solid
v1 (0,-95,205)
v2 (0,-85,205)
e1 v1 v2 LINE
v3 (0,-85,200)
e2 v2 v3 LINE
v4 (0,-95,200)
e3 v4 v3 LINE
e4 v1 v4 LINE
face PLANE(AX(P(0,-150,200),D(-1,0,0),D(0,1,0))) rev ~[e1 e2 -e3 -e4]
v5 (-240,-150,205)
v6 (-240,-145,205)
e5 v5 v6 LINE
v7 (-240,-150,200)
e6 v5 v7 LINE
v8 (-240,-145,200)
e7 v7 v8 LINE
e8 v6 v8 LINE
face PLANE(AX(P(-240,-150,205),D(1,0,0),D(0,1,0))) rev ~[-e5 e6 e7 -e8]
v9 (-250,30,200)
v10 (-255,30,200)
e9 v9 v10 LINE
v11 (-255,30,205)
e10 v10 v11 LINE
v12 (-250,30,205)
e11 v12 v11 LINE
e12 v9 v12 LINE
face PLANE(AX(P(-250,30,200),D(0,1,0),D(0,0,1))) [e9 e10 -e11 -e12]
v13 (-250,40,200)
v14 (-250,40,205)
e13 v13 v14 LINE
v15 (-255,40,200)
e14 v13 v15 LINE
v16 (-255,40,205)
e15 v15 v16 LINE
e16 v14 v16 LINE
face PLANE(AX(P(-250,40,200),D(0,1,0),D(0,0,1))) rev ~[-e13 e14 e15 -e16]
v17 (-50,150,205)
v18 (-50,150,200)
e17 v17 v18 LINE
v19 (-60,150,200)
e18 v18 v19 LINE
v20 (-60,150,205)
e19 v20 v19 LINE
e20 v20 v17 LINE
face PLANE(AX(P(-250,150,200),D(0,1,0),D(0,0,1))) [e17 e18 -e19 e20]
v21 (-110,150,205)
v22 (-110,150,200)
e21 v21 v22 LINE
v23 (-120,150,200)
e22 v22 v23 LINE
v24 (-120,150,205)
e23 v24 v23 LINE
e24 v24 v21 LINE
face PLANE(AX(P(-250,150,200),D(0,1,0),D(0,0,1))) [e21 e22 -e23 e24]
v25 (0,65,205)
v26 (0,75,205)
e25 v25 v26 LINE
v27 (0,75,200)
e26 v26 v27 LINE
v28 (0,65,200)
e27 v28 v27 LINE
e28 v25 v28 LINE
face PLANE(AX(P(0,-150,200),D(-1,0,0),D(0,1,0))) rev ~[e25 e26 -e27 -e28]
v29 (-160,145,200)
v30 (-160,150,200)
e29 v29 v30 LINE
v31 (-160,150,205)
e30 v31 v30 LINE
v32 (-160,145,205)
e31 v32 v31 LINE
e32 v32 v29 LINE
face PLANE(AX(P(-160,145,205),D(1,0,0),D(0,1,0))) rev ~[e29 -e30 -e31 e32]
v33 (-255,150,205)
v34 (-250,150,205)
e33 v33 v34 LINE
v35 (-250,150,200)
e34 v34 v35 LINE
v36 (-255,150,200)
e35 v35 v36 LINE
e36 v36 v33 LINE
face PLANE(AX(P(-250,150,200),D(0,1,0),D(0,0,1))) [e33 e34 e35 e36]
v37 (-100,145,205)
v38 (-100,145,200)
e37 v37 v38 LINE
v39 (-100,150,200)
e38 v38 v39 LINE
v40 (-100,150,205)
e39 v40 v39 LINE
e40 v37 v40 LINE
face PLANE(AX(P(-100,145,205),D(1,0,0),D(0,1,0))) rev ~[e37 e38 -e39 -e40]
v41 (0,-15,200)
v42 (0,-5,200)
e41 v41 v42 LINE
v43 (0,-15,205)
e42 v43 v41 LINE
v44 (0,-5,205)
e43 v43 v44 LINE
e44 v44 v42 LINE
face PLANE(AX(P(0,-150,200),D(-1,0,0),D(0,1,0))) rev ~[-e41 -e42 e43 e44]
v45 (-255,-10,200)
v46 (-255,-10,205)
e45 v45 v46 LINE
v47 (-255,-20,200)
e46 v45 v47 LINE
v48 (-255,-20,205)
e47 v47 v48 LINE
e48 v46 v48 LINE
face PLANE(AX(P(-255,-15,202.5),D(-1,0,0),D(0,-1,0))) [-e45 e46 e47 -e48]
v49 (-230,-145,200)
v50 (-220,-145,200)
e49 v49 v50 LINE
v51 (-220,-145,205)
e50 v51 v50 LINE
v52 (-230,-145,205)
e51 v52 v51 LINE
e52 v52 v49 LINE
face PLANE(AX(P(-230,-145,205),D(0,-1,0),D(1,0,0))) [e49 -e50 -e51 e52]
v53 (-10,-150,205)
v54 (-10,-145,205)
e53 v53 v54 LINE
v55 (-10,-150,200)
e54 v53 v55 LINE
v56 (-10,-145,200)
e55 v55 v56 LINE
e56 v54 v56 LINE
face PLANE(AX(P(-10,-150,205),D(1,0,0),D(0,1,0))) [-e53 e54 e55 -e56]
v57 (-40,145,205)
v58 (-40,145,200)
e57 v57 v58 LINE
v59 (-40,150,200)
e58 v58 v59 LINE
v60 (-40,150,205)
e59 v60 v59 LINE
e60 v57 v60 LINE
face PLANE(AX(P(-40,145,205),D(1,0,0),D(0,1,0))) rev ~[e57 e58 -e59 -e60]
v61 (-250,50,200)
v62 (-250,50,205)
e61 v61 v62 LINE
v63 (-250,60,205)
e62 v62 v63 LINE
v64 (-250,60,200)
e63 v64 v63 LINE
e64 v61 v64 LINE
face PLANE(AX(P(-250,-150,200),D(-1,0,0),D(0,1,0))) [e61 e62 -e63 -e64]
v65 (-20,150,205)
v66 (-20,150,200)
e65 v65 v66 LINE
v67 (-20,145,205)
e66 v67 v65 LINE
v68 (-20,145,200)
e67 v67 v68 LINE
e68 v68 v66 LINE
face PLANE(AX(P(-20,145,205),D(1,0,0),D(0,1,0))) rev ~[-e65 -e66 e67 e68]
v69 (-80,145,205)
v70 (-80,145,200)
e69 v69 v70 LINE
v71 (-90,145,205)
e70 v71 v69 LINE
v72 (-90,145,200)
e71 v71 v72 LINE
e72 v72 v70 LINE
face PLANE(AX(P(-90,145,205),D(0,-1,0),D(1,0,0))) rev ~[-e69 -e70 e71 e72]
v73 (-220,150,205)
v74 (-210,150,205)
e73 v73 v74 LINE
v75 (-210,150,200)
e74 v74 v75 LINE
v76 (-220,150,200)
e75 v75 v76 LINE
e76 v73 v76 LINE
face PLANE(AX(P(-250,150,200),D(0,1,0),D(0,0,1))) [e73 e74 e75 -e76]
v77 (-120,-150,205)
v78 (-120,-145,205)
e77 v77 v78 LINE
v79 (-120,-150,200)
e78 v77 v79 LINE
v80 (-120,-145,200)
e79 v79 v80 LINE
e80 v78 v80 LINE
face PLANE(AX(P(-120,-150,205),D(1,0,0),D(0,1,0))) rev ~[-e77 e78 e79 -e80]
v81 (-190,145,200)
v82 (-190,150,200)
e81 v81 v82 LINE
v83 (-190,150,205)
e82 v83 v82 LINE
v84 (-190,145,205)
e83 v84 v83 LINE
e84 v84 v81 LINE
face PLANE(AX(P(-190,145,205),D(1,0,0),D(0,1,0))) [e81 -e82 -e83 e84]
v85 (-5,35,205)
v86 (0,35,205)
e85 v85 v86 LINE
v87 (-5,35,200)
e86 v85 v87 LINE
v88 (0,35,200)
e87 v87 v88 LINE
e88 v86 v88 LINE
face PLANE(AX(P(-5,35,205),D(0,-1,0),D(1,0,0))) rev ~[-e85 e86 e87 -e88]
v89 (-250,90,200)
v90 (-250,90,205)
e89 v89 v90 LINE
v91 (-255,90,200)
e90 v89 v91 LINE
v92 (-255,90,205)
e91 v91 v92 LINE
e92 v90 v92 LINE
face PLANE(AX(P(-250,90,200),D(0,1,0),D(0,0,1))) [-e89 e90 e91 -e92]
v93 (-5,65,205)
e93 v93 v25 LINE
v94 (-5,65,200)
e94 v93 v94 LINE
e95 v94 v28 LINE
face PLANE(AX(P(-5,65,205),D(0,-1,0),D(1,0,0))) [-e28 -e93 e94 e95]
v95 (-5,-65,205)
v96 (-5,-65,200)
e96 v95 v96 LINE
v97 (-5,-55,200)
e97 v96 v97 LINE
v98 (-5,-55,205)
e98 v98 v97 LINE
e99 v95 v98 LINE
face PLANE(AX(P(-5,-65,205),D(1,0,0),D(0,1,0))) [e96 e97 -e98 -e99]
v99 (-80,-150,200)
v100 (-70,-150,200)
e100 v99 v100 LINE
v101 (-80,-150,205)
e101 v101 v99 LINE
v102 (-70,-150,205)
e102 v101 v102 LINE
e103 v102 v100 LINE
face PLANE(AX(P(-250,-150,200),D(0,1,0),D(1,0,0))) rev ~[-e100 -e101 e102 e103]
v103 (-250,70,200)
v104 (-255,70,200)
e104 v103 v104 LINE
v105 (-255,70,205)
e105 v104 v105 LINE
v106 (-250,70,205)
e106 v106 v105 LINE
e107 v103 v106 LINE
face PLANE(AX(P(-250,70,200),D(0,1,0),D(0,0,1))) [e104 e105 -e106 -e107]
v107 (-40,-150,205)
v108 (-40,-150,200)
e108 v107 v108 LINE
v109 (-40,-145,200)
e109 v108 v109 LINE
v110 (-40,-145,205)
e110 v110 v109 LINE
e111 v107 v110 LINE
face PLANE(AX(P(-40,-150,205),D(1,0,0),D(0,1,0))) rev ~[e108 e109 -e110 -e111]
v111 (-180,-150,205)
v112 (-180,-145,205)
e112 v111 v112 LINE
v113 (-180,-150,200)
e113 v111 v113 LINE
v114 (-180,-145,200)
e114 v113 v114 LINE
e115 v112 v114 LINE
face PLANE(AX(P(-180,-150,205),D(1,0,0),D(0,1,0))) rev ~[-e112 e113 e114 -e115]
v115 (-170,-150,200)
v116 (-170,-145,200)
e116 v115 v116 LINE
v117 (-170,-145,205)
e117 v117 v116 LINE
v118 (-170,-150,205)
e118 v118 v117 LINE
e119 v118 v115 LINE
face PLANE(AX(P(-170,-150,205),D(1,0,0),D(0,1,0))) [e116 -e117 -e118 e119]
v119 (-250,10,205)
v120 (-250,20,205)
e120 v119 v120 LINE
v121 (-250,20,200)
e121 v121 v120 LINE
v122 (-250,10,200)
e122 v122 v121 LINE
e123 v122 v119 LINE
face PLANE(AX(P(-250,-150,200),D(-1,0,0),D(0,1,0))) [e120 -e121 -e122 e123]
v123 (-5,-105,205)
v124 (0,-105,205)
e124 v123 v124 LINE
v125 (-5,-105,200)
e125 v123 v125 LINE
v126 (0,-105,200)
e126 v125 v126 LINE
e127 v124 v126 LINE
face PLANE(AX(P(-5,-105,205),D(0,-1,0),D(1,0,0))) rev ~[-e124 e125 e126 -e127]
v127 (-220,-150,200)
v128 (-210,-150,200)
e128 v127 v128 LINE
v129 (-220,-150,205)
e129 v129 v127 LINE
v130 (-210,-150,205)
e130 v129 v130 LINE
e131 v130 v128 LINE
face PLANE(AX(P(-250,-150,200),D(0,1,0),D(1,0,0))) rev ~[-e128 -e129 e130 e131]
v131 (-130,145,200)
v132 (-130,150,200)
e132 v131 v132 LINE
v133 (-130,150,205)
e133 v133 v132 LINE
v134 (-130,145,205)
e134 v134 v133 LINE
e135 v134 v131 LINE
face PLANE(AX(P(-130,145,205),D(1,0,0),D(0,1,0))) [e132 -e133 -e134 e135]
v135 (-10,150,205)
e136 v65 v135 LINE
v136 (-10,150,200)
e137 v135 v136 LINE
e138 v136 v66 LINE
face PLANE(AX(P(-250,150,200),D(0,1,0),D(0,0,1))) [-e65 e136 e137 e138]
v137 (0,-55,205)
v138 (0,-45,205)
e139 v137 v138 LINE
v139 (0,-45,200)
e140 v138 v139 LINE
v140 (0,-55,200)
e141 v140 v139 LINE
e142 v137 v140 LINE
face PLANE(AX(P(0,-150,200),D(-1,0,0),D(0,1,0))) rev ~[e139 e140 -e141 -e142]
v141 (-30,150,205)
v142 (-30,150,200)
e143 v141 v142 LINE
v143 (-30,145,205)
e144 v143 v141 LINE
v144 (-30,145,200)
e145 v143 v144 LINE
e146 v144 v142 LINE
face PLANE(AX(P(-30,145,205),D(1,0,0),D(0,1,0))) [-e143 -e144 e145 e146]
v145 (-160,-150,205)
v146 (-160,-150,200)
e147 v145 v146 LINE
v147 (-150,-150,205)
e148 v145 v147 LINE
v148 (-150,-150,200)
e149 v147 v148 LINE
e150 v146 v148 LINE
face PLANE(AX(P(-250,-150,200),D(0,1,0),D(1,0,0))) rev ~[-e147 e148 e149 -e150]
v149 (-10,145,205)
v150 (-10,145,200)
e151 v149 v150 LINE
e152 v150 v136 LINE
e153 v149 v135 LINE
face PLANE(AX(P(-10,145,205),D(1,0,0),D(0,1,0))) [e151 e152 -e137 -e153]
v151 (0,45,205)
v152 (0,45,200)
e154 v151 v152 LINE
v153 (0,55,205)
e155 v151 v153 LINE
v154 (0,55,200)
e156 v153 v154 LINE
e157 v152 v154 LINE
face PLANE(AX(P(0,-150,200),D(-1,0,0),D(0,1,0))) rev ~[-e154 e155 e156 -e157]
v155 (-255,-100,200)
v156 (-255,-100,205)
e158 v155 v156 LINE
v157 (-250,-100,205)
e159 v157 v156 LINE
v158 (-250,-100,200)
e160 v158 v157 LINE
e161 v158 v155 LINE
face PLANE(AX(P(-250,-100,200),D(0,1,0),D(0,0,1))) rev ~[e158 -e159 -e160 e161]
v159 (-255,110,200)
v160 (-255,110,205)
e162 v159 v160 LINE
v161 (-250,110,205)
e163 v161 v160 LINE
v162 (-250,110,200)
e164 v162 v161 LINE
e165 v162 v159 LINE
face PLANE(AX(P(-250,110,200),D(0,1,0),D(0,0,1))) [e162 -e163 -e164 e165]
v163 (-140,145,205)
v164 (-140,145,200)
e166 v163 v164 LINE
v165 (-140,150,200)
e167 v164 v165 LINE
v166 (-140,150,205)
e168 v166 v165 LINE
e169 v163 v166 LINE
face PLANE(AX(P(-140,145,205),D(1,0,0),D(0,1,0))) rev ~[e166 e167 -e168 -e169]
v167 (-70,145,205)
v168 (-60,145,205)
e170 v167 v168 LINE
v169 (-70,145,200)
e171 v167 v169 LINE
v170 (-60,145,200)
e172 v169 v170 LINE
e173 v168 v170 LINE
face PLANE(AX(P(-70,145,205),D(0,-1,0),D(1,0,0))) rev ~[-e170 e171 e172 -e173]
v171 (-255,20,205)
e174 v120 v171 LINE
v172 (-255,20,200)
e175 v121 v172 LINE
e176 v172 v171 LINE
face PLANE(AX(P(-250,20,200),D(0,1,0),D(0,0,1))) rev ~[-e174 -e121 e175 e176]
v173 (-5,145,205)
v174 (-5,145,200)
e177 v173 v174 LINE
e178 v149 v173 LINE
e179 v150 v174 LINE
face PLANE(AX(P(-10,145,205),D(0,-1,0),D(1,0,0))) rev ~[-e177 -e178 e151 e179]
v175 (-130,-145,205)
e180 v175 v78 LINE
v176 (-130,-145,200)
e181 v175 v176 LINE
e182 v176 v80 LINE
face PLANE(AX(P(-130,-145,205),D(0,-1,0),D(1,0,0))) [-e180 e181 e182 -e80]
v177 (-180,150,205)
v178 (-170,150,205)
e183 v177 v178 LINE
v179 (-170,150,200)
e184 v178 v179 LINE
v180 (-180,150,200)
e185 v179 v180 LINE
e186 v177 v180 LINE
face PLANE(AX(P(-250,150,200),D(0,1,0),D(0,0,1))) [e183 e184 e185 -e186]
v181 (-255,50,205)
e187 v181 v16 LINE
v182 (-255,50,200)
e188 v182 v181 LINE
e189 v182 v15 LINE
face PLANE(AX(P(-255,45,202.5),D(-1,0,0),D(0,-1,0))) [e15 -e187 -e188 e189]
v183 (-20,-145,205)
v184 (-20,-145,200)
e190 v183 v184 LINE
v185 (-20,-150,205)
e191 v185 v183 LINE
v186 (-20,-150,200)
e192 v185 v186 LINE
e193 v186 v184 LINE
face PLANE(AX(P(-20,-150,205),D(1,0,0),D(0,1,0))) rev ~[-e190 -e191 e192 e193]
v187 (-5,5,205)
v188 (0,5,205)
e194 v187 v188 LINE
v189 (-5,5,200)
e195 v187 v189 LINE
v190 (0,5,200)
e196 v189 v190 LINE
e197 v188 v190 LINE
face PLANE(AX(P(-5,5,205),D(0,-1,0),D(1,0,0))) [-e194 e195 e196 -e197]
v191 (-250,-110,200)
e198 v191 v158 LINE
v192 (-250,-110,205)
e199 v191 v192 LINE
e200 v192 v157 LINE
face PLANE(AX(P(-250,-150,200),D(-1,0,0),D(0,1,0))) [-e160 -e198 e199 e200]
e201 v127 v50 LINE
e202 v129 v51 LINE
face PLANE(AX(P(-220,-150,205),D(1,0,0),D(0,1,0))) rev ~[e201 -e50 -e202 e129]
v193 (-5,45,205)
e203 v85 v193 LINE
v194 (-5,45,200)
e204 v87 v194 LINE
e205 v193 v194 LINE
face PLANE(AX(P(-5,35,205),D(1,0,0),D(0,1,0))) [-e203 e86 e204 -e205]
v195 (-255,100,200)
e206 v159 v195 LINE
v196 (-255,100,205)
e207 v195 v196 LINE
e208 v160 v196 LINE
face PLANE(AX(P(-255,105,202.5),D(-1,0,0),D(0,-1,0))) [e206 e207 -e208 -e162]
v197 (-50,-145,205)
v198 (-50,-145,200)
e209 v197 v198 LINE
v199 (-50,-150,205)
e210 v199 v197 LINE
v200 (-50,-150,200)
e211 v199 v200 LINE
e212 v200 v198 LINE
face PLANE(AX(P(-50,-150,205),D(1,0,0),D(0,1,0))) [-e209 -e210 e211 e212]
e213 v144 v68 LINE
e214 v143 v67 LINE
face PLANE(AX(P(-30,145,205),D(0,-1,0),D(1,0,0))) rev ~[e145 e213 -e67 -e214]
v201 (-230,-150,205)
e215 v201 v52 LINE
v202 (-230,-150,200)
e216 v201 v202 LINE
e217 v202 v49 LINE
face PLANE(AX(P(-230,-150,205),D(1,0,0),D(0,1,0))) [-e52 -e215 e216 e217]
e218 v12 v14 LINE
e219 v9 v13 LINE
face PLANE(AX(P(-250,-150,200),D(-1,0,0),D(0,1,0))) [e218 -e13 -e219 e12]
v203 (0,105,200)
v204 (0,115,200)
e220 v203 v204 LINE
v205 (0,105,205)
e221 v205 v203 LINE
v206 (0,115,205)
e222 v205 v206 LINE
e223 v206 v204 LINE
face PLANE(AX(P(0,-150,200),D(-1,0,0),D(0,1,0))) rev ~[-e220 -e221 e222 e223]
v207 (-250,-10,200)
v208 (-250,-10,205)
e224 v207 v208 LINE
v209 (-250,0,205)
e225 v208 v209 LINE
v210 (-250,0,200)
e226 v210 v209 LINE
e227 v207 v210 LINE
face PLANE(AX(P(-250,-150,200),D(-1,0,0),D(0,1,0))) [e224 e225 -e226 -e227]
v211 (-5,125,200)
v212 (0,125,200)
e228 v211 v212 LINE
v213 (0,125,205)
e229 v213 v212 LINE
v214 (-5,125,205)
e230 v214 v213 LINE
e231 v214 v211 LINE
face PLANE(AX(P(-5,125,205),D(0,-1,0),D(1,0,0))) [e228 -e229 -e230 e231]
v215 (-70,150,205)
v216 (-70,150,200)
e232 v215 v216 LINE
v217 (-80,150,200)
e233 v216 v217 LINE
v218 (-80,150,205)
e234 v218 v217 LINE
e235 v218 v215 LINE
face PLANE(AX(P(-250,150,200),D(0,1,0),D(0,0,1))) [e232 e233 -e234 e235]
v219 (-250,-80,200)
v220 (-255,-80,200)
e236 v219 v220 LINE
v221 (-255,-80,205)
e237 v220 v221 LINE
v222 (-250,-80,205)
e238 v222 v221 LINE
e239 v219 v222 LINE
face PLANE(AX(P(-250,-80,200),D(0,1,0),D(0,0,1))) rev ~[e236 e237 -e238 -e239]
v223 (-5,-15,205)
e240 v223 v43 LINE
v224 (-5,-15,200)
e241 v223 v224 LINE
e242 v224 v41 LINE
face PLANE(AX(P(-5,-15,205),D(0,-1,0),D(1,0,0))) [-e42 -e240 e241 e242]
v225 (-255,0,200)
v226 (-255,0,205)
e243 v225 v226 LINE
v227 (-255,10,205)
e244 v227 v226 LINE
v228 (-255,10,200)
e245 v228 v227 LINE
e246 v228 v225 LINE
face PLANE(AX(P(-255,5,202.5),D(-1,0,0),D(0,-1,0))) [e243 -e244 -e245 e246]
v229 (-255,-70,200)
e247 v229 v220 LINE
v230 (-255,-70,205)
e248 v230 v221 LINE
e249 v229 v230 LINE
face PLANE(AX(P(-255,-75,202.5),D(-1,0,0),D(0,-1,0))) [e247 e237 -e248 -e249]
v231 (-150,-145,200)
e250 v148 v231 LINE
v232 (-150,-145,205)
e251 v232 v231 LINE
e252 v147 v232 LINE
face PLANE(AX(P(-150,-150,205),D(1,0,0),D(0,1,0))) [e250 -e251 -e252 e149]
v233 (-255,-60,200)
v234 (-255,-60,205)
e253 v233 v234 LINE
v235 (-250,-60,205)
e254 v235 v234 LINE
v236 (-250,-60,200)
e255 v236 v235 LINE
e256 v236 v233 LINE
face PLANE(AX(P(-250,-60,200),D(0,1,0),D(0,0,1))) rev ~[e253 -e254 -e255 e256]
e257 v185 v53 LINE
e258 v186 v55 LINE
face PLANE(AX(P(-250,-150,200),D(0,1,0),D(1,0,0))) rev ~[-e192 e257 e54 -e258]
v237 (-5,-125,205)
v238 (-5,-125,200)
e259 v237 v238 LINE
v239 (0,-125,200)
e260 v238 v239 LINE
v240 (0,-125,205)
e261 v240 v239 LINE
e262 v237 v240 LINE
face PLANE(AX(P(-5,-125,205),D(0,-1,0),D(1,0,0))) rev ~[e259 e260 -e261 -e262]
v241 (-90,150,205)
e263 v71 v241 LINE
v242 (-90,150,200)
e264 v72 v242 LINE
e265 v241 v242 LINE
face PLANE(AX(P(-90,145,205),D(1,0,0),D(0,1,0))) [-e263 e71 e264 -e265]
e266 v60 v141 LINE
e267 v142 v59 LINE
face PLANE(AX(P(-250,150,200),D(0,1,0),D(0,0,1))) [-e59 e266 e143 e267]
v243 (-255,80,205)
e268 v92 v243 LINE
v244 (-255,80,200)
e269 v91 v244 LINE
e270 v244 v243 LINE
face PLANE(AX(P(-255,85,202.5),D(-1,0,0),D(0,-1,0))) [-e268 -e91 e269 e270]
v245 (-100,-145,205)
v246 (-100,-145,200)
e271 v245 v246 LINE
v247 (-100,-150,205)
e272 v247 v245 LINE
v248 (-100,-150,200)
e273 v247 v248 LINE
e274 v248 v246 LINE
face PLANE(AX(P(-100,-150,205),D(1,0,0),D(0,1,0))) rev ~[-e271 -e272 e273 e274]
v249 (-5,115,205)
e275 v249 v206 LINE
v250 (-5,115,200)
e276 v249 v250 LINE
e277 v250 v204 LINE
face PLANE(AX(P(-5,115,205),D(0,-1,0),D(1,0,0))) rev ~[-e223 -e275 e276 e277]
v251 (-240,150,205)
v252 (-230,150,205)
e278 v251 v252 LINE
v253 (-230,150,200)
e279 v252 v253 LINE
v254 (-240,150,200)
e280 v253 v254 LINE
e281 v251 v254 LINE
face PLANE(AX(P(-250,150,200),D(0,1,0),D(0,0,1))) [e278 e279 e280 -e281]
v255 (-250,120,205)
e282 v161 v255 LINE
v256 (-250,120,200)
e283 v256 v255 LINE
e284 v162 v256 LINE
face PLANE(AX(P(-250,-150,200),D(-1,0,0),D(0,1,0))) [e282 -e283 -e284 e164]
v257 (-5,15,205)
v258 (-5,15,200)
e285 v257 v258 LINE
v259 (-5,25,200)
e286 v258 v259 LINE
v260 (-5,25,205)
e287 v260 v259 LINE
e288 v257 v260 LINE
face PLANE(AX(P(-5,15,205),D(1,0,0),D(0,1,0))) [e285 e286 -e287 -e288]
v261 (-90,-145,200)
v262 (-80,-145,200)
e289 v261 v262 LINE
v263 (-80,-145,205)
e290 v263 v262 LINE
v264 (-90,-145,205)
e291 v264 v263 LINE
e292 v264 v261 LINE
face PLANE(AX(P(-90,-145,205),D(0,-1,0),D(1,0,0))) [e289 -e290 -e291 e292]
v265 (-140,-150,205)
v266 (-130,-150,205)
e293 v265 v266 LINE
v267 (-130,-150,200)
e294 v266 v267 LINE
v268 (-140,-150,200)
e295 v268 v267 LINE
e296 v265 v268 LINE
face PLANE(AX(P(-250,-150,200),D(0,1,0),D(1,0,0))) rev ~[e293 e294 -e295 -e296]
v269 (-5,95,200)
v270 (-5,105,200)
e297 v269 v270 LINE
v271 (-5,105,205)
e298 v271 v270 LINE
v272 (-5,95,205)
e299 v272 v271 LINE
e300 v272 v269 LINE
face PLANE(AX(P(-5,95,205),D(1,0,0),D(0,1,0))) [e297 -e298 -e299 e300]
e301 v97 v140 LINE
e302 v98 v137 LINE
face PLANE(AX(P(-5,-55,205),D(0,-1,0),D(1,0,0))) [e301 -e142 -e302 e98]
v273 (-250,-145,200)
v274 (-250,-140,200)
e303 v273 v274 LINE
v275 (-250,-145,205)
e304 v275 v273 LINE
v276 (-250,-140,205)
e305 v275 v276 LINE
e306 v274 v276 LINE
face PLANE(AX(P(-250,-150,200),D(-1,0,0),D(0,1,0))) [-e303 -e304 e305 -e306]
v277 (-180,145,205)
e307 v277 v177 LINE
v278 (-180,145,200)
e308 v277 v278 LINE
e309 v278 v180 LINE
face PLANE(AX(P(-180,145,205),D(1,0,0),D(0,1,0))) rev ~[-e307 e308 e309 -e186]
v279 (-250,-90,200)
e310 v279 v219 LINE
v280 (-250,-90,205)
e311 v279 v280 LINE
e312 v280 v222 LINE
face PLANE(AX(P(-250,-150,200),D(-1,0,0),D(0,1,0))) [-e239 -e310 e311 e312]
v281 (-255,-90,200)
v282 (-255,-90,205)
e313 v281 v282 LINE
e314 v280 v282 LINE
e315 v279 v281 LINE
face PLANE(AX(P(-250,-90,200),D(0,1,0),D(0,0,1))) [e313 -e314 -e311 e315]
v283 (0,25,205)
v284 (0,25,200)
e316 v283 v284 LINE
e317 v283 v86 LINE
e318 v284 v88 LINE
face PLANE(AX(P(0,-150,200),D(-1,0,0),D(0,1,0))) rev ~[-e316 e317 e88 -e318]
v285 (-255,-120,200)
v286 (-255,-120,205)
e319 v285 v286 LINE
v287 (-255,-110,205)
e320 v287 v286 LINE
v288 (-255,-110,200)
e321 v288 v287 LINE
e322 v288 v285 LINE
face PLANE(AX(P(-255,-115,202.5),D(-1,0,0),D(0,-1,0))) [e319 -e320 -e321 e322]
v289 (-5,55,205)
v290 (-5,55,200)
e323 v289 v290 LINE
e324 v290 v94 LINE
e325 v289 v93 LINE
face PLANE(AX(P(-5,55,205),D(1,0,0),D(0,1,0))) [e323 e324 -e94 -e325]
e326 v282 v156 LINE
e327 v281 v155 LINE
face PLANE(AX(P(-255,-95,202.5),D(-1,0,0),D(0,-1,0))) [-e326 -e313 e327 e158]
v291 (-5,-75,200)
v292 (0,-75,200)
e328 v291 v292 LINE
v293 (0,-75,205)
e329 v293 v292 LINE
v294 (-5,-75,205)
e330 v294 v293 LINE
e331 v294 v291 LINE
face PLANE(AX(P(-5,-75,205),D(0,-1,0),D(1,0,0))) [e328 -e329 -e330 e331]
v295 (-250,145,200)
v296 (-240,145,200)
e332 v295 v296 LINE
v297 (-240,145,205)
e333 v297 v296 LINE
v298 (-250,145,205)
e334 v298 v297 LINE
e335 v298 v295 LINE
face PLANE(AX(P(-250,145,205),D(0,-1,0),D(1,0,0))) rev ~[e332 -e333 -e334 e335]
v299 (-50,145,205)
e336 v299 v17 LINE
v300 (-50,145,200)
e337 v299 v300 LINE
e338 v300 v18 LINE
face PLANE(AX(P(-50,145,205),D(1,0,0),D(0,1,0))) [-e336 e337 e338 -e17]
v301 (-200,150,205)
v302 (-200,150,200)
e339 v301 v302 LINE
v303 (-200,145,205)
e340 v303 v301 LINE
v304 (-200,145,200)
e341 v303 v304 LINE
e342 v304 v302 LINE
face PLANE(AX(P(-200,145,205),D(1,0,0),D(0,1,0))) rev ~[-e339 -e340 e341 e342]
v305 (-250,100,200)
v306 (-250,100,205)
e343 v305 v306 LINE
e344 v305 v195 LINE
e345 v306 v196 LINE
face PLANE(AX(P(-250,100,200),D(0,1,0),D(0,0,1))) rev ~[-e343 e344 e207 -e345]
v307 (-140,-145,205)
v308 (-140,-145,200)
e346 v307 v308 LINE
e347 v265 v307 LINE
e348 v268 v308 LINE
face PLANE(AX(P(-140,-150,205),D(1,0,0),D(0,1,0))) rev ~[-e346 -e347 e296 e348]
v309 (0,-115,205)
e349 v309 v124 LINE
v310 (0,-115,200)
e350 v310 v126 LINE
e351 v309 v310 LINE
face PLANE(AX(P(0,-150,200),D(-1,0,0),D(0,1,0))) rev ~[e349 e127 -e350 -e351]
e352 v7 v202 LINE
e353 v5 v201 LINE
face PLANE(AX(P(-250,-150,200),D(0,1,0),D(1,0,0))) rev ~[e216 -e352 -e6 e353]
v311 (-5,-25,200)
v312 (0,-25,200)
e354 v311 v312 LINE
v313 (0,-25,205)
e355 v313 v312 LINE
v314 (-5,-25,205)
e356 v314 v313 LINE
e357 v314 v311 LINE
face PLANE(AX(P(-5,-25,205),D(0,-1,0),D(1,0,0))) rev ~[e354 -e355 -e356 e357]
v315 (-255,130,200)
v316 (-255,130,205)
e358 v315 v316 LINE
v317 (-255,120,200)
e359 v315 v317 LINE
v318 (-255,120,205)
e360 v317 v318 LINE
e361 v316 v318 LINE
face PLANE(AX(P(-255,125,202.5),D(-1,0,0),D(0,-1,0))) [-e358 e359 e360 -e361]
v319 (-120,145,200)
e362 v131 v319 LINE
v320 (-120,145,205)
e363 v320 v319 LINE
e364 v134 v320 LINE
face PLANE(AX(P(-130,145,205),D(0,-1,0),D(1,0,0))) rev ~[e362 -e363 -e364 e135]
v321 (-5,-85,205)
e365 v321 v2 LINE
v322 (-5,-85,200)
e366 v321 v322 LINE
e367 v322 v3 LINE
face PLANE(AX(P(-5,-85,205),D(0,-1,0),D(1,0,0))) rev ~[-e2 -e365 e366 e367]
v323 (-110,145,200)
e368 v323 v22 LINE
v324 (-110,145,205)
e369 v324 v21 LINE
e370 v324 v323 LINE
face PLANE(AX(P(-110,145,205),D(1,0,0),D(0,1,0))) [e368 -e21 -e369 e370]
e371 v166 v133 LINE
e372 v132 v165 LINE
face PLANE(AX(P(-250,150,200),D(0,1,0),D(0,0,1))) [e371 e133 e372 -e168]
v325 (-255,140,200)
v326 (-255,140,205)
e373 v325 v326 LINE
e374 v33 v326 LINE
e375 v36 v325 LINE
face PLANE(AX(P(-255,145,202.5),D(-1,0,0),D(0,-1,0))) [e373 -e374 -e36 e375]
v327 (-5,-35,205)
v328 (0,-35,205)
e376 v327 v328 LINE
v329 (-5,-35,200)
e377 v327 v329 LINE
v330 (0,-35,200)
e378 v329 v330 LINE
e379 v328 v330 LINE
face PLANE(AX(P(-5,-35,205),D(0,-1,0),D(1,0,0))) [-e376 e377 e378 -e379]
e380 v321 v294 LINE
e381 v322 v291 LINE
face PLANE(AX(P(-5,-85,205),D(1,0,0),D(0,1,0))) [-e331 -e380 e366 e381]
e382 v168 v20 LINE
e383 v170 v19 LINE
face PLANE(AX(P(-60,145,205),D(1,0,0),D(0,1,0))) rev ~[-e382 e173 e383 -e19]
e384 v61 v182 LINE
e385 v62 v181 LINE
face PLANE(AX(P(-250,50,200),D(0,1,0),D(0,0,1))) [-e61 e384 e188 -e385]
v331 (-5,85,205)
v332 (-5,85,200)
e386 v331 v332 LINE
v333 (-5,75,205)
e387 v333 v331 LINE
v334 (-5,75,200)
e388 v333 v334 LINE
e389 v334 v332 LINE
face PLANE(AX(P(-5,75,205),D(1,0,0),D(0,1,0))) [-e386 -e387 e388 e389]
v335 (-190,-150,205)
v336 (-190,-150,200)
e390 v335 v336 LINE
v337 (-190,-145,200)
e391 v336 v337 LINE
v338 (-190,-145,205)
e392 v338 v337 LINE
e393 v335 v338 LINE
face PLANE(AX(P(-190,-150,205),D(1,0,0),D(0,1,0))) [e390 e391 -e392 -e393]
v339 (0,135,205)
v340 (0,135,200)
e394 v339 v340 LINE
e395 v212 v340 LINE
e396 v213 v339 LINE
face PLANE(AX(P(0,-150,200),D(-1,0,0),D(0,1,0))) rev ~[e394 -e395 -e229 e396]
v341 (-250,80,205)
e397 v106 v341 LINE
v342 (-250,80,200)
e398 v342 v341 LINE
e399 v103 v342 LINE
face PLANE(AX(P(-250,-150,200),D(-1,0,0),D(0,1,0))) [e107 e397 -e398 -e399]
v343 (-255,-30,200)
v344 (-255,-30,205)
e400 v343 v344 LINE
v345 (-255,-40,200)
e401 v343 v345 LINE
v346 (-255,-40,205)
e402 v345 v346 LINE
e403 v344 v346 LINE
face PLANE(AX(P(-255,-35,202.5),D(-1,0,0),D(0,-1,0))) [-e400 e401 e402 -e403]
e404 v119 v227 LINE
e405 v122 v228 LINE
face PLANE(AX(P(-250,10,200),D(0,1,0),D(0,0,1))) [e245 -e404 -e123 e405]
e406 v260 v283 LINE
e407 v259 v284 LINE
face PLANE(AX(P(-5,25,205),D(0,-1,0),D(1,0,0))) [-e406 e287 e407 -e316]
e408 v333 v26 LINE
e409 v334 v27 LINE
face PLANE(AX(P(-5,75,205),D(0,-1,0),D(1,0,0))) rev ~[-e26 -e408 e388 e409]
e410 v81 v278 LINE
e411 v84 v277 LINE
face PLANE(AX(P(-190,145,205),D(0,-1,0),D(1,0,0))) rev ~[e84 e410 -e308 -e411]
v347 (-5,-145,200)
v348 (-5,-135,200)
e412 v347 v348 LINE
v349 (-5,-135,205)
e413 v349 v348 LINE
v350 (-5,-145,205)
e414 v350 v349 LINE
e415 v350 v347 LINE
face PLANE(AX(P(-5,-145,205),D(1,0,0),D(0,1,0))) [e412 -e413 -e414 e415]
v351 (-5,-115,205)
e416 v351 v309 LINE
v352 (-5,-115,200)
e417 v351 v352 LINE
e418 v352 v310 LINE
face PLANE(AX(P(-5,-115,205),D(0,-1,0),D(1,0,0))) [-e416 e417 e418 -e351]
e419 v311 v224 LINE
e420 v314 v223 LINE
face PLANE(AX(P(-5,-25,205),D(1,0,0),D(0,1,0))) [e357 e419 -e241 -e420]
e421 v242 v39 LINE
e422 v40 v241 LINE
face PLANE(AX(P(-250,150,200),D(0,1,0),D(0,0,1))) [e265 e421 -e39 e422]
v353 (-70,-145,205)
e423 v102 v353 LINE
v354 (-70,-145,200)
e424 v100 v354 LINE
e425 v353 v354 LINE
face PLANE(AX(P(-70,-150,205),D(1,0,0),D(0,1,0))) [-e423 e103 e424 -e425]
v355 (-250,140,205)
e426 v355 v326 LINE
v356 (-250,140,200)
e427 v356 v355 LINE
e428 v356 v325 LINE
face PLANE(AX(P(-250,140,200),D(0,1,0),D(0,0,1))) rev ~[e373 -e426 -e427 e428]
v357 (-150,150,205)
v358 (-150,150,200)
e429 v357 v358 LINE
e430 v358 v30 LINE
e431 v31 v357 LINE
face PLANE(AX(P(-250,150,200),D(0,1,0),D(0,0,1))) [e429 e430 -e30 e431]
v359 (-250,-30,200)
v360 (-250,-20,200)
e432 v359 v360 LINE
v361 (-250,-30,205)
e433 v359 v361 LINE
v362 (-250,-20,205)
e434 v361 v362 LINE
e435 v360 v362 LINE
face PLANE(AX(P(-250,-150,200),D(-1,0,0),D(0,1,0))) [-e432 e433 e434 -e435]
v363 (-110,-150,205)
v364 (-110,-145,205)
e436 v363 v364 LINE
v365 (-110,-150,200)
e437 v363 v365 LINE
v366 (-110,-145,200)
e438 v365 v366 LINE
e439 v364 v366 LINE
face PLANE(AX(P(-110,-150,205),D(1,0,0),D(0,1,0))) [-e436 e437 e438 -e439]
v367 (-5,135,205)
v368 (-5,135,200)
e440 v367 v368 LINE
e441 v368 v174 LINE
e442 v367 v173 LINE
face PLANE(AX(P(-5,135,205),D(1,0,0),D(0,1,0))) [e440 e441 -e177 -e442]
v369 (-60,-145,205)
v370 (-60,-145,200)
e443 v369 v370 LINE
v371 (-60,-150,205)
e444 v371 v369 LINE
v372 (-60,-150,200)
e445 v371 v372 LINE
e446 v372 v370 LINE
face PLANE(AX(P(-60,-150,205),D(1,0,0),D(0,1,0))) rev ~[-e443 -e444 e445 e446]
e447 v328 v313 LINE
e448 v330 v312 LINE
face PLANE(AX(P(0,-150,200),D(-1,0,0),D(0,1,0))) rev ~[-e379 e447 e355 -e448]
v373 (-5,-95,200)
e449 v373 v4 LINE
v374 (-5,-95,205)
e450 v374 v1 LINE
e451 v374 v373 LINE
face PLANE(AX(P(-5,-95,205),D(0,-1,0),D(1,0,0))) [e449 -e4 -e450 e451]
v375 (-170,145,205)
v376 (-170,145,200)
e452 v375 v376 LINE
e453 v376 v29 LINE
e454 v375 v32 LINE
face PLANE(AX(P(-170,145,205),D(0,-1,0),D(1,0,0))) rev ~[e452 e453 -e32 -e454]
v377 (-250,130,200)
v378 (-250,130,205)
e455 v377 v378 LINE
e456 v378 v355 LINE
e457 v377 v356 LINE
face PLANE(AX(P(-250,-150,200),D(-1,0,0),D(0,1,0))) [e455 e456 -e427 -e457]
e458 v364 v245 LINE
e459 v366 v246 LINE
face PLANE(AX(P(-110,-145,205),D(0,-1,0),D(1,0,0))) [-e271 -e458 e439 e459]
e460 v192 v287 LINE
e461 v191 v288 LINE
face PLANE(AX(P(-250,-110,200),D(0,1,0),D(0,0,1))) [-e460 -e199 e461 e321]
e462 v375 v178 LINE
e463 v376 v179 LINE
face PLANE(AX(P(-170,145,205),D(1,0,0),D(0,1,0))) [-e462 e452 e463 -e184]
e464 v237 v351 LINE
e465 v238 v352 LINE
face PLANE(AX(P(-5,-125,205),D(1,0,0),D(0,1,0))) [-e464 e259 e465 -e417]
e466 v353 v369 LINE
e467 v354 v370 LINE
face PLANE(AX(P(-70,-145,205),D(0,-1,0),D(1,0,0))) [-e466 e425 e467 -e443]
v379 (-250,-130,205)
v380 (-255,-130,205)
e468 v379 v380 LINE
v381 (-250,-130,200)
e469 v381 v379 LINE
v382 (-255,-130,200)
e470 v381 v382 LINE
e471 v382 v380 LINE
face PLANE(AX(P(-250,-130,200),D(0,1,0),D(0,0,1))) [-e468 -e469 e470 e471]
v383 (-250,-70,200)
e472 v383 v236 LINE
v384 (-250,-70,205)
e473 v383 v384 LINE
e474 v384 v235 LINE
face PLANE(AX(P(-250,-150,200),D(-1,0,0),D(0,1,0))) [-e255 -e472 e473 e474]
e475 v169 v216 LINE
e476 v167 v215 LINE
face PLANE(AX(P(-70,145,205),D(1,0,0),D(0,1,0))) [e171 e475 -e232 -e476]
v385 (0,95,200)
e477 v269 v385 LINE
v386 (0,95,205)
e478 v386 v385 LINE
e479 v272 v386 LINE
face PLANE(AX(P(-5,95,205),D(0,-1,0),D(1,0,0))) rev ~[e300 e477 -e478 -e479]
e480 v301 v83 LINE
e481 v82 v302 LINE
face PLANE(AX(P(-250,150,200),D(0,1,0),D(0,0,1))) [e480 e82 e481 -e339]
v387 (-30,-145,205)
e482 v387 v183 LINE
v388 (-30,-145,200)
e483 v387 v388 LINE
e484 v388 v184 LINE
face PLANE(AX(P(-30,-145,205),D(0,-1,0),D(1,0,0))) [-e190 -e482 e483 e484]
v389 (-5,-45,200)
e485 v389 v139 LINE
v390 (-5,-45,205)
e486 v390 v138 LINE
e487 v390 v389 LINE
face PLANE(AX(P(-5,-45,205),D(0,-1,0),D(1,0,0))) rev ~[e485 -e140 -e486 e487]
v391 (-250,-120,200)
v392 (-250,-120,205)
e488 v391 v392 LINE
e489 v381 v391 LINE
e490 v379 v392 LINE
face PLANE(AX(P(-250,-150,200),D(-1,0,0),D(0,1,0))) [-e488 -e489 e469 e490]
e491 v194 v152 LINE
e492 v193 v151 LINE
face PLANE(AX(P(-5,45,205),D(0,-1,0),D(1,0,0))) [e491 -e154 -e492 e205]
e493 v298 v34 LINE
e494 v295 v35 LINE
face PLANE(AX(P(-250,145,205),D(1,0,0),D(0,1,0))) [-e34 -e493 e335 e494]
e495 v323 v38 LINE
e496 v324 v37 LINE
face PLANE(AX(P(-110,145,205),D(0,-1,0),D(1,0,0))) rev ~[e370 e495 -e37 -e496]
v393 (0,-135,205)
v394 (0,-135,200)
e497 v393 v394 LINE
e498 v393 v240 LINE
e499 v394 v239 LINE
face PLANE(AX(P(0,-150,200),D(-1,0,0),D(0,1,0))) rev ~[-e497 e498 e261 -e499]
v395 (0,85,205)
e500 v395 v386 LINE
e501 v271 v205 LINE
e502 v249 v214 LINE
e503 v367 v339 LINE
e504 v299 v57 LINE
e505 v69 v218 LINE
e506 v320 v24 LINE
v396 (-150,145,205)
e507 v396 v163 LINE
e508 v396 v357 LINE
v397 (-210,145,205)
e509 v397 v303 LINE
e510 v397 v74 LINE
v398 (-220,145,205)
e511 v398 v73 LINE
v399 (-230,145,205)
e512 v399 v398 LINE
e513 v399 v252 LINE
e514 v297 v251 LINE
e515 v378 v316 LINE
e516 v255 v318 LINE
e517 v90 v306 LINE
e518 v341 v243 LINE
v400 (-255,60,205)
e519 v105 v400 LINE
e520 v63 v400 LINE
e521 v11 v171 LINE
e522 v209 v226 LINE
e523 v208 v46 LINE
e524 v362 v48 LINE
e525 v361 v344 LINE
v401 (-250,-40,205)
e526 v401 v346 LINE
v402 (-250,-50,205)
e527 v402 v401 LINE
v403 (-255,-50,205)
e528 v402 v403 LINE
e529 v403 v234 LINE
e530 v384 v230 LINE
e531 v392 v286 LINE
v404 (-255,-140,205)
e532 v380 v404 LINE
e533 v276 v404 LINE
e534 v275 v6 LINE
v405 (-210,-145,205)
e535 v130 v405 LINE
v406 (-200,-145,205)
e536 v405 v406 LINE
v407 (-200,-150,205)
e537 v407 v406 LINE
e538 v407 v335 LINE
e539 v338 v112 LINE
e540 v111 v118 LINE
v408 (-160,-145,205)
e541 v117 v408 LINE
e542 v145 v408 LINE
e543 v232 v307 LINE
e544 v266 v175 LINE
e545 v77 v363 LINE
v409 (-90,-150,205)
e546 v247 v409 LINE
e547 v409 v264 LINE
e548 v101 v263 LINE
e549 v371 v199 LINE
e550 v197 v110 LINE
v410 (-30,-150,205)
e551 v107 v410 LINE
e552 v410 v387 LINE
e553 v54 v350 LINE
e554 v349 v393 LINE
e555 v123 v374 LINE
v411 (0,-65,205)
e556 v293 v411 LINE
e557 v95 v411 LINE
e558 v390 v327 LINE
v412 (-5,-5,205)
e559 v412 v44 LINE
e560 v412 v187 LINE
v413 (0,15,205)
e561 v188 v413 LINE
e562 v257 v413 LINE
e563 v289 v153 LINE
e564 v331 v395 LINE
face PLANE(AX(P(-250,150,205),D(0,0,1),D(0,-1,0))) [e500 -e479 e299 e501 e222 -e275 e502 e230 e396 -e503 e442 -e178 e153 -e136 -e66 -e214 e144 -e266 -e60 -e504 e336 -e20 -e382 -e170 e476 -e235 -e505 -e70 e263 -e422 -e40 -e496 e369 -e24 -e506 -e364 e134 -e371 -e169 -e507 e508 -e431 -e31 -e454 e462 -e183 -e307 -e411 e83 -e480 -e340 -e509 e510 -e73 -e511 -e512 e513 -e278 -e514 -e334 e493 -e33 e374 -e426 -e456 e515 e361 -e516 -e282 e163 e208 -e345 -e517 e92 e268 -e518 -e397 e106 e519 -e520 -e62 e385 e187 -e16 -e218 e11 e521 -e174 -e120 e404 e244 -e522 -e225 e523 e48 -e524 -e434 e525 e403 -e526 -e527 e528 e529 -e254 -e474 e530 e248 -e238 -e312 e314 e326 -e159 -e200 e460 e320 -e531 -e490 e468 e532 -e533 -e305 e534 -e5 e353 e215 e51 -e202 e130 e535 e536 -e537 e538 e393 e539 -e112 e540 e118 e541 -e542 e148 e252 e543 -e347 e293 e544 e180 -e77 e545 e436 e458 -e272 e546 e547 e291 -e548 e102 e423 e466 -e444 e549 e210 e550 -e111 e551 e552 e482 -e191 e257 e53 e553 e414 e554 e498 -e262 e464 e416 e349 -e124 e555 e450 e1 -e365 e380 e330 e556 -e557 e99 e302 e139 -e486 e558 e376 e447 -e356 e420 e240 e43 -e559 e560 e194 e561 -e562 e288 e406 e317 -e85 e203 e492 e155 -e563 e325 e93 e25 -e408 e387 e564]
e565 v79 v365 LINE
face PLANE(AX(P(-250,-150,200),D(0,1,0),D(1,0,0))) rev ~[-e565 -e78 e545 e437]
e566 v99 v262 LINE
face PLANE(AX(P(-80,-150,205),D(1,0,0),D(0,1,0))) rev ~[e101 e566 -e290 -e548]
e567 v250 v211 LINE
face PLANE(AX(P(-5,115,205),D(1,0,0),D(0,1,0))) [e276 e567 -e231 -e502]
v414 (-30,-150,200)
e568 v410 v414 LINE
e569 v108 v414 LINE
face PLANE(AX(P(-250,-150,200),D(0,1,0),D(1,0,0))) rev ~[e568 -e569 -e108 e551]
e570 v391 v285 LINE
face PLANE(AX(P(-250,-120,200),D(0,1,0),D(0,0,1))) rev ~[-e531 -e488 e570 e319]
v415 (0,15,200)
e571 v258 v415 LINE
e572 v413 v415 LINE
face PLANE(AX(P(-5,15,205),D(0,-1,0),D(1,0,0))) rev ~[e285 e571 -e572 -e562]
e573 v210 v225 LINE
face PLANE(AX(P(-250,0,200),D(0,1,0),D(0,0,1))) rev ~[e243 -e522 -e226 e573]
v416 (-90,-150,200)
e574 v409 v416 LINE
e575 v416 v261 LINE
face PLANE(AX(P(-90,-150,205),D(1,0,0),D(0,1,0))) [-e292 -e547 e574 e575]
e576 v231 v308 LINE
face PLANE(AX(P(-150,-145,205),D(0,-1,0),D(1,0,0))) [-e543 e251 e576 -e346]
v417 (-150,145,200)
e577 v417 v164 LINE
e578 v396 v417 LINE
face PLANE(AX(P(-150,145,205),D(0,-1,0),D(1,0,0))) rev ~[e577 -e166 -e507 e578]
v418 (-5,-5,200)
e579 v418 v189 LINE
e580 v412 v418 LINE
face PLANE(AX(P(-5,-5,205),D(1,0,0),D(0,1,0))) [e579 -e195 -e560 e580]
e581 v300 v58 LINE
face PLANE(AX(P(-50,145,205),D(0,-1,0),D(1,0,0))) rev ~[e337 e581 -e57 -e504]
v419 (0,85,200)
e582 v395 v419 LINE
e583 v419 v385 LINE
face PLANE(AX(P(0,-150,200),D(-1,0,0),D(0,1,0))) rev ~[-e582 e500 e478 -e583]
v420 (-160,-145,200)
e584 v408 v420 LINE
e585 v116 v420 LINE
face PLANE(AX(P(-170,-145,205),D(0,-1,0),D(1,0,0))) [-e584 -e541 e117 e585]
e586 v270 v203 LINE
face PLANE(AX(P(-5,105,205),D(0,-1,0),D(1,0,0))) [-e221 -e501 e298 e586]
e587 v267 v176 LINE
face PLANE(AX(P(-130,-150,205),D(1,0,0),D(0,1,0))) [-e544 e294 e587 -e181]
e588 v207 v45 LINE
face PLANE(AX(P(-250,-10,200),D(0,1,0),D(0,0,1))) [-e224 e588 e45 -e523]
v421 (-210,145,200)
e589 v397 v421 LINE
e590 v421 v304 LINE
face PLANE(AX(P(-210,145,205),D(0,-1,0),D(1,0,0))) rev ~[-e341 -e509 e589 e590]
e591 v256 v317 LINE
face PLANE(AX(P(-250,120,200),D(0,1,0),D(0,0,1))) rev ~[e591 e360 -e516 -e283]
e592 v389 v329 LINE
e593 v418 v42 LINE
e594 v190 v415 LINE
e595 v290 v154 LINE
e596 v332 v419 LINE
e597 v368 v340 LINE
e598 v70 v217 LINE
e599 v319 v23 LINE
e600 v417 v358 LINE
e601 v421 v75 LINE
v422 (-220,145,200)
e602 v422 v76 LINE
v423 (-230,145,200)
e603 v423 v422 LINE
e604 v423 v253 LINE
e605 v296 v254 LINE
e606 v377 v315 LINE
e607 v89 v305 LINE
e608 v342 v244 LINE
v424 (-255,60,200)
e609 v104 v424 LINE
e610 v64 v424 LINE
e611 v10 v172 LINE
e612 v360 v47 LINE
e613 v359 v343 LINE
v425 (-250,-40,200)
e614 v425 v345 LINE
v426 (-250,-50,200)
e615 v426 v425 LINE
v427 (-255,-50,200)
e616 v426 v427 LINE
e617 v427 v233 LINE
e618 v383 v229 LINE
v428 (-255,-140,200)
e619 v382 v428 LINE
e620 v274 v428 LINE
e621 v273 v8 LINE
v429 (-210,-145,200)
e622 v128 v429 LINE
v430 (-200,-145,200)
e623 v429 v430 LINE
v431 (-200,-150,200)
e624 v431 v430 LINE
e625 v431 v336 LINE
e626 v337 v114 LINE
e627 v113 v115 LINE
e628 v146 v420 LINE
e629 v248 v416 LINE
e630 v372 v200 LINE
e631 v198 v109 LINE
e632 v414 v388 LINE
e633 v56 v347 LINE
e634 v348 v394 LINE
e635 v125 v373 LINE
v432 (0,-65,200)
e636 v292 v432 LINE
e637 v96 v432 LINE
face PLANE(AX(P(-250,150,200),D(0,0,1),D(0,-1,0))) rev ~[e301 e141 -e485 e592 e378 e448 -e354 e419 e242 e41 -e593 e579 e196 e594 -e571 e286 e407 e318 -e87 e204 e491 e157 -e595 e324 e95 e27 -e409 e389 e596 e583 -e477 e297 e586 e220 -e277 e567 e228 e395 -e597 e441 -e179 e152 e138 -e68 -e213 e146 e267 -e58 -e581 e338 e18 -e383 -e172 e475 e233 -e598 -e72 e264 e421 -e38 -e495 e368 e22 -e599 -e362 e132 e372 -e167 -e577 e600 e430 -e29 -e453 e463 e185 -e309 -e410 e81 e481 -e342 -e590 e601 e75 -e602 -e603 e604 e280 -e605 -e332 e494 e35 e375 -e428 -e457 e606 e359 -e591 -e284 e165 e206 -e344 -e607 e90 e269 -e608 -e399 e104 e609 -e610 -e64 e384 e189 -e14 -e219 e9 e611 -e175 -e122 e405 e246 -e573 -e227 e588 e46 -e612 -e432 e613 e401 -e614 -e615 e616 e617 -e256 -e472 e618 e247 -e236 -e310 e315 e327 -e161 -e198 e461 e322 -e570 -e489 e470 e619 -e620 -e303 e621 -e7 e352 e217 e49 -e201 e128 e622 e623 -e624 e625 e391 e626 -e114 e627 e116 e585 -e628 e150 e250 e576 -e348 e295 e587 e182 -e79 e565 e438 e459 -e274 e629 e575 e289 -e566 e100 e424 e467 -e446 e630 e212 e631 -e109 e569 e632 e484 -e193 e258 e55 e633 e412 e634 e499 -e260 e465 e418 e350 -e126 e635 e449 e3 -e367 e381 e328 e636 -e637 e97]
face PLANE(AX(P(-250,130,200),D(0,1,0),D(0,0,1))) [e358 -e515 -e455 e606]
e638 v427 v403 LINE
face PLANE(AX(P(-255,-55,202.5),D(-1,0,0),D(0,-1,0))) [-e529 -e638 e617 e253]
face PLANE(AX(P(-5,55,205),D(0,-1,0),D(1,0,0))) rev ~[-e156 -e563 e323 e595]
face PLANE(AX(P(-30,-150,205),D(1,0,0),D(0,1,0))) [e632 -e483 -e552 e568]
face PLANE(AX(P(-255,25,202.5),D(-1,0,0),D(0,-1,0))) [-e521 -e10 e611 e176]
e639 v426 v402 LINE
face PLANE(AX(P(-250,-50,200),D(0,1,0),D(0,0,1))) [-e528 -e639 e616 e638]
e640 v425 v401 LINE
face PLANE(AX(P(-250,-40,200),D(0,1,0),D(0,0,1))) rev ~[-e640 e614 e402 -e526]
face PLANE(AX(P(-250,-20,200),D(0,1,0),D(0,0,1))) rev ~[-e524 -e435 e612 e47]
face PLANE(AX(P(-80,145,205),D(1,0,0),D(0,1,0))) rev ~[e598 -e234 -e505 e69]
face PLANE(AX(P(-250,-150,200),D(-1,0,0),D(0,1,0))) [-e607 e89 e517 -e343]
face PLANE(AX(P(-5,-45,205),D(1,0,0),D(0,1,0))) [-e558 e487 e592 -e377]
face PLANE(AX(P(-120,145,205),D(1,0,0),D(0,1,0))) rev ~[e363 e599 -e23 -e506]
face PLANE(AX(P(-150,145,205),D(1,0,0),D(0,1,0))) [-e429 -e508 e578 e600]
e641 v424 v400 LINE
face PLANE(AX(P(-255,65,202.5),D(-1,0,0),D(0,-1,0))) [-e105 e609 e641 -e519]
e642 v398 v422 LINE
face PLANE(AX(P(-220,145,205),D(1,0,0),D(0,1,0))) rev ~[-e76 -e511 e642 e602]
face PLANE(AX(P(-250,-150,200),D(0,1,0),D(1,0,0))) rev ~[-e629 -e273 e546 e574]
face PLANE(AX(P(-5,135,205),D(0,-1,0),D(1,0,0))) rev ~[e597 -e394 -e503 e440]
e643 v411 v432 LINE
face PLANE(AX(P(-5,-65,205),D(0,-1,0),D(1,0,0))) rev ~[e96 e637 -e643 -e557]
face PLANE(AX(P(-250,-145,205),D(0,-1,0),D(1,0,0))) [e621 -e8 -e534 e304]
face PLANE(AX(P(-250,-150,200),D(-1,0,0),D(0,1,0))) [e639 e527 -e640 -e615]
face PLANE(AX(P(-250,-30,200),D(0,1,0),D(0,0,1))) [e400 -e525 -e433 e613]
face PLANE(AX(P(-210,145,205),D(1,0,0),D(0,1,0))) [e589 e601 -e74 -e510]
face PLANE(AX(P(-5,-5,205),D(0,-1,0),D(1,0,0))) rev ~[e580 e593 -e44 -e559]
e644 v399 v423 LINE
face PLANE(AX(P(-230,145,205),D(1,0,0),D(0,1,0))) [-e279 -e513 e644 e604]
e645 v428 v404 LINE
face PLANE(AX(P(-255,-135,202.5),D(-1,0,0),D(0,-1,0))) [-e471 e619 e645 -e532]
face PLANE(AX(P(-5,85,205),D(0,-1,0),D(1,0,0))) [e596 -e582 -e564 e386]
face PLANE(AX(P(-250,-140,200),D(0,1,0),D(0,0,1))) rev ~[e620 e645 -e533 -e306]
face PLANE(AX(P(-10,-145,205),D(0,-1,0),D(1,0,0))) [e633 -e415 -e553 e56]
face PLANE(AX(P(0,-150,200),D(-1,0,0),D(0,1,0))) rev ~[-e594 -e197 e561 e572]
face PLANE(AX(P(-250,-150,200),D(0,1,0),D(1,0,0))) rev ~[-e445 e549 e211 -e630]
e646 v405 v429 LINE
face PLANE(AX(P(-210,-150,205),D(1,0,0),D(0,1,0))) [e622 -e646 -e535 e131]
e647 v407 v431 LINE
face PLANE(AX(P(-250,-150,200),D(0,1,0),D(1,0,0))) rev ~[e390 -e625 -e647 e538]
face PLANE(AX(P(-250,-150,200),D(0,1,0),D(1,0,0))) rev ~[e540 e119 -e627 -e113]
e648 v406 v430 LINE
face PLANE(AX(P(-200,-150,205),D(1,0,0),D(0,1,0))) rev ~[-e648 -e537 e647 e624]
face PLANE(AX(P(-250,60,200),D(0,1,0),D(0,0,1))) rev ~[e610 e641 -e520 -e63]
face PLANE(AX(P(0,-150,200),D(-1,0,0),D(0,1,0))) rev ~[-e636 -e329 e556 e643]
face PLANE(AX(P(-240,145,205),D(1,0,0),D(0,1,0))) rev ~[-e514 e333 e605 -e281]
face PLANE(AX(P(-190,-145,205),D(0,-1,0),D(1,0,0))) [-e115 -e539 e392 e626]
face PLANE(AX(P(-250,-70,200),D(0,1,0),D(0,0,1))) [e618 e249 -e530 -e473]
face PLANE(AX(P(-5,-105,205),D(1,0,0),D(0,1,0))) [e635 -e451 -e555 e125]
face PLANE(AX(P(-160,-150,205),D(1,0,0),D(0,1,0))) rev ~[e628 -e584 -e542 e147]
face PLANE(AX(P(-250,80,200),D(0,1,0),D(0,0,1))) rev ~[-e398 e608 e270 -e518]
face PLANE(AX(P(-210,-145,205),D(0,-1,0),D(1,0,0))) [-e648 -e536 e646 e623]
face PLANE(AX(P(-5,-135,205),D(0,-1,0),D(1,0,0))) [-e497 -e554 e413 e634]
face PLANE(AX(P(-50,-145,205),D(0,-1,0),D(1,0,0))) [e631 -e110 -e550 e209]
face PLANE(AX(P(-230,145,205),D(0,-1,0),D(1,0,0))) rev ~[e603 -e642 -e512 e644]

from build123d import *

# Parameters (mm, degrees)
SKETCH008_W            = 250
SKETCH008_H            = 300
PAD006_DEPTH           = 5
SKETCH034_W            = 10
SKETCH034_H            = 5
PAD026_DEPTH           = 5
LINEARPATTERN014_COUNT = 15
LINEARPATTERN014_PITCH = 20
SKETCH127_W            = 10
SKETCH127_H            = 5
POCKET037_DEPTH        = 5
LINEARPATTERN079_COUNT = 13
LINEARPATTERN079_PITCH = 20
SKETCH128_W            = 5
SKETCH128_H            = 10
POCKET038_DEPTH        = 5
LINEARPATTERN080_COUNT = 15
LINEARPATTERN080_PITCH = 20


with BuildPart() as part:
    # Sketch008 → Pad006 (new body)
    with BuildSketch(Plane.XY):
        Rectangle(SKETCH008_W, SKETCH008_H)
    extrude(amount=PAD006_DEPTH)

    # Sketch034 (on DatumPlane) → Pad026 (join)
    with BuildSketch(Plane(origin=(-125, 0, 0), x_dir=(0, -1, 0), z_dir=(-1, 0, 0))):
        with Locations((-145, 2.5)):
            Rectangle(SKETCH034_W, SKETCH034_H)
    pad026 = extrude(amount=PAD026_DEPTH)

    # LinearPattern014: Pad026 ×15
    with Locations(*[(0, -i * LINEARPATTERN014_PITCH, 0) for i in range(1, LINEARPATTERN014_COUNT)]):
        add(pad026)

    # Sketch127 (on DatumPlane) → Pocket037 (cut)
    with BuildSketch(Plane.XY.offset(5)):
        with Locations((-120, 147.5)):
            Rectangle(SKETCH127_W, SKETCH127_H)
        with Locations((-120, -147.5)):
            Rectangle(SKETCH127_W, SKETCH127_H)
    pocket037 = extrude(amount=-POCKET037_DEPTH, mode=Mode.SUBTRACT)

    # LinearPattern079: Pocket037 ×13
    with Locations(*[(i * LINEARPATTERN079_PITCH, 0, 0) for i in range(1, LINEARPATTERN079_COUNT)]):
        add(pocket037, mode=Mode.SUBTRACT)

    # Sketch128 (on DatumPlane) → Pocket038 (cut)
    with BuildSketch(Plane.XY.offset(5)):
        with Locations((122.5, 140)):
            Rectangle(SKETCH128_W, SKETCH128_H)
    pocket038 = extrude(amount=-POCKET038_DEPTH, mode=Mode.SUBTRACT)

    # LinearPattern080: Pocket038 ×15
    with Locations(*[(0, -i * LINEARPATTERN080_PITCH, 0) for i in range(1, LINEARPATTERN080_COUNT)]):
        add(pocket038, mode=Mode.SUBTRACT)


with BuildPart() as part_1:
    # Body006 placement: moved
    add(part.part.moved(Location((-125, 0, 200))))


solid = part_1.part
